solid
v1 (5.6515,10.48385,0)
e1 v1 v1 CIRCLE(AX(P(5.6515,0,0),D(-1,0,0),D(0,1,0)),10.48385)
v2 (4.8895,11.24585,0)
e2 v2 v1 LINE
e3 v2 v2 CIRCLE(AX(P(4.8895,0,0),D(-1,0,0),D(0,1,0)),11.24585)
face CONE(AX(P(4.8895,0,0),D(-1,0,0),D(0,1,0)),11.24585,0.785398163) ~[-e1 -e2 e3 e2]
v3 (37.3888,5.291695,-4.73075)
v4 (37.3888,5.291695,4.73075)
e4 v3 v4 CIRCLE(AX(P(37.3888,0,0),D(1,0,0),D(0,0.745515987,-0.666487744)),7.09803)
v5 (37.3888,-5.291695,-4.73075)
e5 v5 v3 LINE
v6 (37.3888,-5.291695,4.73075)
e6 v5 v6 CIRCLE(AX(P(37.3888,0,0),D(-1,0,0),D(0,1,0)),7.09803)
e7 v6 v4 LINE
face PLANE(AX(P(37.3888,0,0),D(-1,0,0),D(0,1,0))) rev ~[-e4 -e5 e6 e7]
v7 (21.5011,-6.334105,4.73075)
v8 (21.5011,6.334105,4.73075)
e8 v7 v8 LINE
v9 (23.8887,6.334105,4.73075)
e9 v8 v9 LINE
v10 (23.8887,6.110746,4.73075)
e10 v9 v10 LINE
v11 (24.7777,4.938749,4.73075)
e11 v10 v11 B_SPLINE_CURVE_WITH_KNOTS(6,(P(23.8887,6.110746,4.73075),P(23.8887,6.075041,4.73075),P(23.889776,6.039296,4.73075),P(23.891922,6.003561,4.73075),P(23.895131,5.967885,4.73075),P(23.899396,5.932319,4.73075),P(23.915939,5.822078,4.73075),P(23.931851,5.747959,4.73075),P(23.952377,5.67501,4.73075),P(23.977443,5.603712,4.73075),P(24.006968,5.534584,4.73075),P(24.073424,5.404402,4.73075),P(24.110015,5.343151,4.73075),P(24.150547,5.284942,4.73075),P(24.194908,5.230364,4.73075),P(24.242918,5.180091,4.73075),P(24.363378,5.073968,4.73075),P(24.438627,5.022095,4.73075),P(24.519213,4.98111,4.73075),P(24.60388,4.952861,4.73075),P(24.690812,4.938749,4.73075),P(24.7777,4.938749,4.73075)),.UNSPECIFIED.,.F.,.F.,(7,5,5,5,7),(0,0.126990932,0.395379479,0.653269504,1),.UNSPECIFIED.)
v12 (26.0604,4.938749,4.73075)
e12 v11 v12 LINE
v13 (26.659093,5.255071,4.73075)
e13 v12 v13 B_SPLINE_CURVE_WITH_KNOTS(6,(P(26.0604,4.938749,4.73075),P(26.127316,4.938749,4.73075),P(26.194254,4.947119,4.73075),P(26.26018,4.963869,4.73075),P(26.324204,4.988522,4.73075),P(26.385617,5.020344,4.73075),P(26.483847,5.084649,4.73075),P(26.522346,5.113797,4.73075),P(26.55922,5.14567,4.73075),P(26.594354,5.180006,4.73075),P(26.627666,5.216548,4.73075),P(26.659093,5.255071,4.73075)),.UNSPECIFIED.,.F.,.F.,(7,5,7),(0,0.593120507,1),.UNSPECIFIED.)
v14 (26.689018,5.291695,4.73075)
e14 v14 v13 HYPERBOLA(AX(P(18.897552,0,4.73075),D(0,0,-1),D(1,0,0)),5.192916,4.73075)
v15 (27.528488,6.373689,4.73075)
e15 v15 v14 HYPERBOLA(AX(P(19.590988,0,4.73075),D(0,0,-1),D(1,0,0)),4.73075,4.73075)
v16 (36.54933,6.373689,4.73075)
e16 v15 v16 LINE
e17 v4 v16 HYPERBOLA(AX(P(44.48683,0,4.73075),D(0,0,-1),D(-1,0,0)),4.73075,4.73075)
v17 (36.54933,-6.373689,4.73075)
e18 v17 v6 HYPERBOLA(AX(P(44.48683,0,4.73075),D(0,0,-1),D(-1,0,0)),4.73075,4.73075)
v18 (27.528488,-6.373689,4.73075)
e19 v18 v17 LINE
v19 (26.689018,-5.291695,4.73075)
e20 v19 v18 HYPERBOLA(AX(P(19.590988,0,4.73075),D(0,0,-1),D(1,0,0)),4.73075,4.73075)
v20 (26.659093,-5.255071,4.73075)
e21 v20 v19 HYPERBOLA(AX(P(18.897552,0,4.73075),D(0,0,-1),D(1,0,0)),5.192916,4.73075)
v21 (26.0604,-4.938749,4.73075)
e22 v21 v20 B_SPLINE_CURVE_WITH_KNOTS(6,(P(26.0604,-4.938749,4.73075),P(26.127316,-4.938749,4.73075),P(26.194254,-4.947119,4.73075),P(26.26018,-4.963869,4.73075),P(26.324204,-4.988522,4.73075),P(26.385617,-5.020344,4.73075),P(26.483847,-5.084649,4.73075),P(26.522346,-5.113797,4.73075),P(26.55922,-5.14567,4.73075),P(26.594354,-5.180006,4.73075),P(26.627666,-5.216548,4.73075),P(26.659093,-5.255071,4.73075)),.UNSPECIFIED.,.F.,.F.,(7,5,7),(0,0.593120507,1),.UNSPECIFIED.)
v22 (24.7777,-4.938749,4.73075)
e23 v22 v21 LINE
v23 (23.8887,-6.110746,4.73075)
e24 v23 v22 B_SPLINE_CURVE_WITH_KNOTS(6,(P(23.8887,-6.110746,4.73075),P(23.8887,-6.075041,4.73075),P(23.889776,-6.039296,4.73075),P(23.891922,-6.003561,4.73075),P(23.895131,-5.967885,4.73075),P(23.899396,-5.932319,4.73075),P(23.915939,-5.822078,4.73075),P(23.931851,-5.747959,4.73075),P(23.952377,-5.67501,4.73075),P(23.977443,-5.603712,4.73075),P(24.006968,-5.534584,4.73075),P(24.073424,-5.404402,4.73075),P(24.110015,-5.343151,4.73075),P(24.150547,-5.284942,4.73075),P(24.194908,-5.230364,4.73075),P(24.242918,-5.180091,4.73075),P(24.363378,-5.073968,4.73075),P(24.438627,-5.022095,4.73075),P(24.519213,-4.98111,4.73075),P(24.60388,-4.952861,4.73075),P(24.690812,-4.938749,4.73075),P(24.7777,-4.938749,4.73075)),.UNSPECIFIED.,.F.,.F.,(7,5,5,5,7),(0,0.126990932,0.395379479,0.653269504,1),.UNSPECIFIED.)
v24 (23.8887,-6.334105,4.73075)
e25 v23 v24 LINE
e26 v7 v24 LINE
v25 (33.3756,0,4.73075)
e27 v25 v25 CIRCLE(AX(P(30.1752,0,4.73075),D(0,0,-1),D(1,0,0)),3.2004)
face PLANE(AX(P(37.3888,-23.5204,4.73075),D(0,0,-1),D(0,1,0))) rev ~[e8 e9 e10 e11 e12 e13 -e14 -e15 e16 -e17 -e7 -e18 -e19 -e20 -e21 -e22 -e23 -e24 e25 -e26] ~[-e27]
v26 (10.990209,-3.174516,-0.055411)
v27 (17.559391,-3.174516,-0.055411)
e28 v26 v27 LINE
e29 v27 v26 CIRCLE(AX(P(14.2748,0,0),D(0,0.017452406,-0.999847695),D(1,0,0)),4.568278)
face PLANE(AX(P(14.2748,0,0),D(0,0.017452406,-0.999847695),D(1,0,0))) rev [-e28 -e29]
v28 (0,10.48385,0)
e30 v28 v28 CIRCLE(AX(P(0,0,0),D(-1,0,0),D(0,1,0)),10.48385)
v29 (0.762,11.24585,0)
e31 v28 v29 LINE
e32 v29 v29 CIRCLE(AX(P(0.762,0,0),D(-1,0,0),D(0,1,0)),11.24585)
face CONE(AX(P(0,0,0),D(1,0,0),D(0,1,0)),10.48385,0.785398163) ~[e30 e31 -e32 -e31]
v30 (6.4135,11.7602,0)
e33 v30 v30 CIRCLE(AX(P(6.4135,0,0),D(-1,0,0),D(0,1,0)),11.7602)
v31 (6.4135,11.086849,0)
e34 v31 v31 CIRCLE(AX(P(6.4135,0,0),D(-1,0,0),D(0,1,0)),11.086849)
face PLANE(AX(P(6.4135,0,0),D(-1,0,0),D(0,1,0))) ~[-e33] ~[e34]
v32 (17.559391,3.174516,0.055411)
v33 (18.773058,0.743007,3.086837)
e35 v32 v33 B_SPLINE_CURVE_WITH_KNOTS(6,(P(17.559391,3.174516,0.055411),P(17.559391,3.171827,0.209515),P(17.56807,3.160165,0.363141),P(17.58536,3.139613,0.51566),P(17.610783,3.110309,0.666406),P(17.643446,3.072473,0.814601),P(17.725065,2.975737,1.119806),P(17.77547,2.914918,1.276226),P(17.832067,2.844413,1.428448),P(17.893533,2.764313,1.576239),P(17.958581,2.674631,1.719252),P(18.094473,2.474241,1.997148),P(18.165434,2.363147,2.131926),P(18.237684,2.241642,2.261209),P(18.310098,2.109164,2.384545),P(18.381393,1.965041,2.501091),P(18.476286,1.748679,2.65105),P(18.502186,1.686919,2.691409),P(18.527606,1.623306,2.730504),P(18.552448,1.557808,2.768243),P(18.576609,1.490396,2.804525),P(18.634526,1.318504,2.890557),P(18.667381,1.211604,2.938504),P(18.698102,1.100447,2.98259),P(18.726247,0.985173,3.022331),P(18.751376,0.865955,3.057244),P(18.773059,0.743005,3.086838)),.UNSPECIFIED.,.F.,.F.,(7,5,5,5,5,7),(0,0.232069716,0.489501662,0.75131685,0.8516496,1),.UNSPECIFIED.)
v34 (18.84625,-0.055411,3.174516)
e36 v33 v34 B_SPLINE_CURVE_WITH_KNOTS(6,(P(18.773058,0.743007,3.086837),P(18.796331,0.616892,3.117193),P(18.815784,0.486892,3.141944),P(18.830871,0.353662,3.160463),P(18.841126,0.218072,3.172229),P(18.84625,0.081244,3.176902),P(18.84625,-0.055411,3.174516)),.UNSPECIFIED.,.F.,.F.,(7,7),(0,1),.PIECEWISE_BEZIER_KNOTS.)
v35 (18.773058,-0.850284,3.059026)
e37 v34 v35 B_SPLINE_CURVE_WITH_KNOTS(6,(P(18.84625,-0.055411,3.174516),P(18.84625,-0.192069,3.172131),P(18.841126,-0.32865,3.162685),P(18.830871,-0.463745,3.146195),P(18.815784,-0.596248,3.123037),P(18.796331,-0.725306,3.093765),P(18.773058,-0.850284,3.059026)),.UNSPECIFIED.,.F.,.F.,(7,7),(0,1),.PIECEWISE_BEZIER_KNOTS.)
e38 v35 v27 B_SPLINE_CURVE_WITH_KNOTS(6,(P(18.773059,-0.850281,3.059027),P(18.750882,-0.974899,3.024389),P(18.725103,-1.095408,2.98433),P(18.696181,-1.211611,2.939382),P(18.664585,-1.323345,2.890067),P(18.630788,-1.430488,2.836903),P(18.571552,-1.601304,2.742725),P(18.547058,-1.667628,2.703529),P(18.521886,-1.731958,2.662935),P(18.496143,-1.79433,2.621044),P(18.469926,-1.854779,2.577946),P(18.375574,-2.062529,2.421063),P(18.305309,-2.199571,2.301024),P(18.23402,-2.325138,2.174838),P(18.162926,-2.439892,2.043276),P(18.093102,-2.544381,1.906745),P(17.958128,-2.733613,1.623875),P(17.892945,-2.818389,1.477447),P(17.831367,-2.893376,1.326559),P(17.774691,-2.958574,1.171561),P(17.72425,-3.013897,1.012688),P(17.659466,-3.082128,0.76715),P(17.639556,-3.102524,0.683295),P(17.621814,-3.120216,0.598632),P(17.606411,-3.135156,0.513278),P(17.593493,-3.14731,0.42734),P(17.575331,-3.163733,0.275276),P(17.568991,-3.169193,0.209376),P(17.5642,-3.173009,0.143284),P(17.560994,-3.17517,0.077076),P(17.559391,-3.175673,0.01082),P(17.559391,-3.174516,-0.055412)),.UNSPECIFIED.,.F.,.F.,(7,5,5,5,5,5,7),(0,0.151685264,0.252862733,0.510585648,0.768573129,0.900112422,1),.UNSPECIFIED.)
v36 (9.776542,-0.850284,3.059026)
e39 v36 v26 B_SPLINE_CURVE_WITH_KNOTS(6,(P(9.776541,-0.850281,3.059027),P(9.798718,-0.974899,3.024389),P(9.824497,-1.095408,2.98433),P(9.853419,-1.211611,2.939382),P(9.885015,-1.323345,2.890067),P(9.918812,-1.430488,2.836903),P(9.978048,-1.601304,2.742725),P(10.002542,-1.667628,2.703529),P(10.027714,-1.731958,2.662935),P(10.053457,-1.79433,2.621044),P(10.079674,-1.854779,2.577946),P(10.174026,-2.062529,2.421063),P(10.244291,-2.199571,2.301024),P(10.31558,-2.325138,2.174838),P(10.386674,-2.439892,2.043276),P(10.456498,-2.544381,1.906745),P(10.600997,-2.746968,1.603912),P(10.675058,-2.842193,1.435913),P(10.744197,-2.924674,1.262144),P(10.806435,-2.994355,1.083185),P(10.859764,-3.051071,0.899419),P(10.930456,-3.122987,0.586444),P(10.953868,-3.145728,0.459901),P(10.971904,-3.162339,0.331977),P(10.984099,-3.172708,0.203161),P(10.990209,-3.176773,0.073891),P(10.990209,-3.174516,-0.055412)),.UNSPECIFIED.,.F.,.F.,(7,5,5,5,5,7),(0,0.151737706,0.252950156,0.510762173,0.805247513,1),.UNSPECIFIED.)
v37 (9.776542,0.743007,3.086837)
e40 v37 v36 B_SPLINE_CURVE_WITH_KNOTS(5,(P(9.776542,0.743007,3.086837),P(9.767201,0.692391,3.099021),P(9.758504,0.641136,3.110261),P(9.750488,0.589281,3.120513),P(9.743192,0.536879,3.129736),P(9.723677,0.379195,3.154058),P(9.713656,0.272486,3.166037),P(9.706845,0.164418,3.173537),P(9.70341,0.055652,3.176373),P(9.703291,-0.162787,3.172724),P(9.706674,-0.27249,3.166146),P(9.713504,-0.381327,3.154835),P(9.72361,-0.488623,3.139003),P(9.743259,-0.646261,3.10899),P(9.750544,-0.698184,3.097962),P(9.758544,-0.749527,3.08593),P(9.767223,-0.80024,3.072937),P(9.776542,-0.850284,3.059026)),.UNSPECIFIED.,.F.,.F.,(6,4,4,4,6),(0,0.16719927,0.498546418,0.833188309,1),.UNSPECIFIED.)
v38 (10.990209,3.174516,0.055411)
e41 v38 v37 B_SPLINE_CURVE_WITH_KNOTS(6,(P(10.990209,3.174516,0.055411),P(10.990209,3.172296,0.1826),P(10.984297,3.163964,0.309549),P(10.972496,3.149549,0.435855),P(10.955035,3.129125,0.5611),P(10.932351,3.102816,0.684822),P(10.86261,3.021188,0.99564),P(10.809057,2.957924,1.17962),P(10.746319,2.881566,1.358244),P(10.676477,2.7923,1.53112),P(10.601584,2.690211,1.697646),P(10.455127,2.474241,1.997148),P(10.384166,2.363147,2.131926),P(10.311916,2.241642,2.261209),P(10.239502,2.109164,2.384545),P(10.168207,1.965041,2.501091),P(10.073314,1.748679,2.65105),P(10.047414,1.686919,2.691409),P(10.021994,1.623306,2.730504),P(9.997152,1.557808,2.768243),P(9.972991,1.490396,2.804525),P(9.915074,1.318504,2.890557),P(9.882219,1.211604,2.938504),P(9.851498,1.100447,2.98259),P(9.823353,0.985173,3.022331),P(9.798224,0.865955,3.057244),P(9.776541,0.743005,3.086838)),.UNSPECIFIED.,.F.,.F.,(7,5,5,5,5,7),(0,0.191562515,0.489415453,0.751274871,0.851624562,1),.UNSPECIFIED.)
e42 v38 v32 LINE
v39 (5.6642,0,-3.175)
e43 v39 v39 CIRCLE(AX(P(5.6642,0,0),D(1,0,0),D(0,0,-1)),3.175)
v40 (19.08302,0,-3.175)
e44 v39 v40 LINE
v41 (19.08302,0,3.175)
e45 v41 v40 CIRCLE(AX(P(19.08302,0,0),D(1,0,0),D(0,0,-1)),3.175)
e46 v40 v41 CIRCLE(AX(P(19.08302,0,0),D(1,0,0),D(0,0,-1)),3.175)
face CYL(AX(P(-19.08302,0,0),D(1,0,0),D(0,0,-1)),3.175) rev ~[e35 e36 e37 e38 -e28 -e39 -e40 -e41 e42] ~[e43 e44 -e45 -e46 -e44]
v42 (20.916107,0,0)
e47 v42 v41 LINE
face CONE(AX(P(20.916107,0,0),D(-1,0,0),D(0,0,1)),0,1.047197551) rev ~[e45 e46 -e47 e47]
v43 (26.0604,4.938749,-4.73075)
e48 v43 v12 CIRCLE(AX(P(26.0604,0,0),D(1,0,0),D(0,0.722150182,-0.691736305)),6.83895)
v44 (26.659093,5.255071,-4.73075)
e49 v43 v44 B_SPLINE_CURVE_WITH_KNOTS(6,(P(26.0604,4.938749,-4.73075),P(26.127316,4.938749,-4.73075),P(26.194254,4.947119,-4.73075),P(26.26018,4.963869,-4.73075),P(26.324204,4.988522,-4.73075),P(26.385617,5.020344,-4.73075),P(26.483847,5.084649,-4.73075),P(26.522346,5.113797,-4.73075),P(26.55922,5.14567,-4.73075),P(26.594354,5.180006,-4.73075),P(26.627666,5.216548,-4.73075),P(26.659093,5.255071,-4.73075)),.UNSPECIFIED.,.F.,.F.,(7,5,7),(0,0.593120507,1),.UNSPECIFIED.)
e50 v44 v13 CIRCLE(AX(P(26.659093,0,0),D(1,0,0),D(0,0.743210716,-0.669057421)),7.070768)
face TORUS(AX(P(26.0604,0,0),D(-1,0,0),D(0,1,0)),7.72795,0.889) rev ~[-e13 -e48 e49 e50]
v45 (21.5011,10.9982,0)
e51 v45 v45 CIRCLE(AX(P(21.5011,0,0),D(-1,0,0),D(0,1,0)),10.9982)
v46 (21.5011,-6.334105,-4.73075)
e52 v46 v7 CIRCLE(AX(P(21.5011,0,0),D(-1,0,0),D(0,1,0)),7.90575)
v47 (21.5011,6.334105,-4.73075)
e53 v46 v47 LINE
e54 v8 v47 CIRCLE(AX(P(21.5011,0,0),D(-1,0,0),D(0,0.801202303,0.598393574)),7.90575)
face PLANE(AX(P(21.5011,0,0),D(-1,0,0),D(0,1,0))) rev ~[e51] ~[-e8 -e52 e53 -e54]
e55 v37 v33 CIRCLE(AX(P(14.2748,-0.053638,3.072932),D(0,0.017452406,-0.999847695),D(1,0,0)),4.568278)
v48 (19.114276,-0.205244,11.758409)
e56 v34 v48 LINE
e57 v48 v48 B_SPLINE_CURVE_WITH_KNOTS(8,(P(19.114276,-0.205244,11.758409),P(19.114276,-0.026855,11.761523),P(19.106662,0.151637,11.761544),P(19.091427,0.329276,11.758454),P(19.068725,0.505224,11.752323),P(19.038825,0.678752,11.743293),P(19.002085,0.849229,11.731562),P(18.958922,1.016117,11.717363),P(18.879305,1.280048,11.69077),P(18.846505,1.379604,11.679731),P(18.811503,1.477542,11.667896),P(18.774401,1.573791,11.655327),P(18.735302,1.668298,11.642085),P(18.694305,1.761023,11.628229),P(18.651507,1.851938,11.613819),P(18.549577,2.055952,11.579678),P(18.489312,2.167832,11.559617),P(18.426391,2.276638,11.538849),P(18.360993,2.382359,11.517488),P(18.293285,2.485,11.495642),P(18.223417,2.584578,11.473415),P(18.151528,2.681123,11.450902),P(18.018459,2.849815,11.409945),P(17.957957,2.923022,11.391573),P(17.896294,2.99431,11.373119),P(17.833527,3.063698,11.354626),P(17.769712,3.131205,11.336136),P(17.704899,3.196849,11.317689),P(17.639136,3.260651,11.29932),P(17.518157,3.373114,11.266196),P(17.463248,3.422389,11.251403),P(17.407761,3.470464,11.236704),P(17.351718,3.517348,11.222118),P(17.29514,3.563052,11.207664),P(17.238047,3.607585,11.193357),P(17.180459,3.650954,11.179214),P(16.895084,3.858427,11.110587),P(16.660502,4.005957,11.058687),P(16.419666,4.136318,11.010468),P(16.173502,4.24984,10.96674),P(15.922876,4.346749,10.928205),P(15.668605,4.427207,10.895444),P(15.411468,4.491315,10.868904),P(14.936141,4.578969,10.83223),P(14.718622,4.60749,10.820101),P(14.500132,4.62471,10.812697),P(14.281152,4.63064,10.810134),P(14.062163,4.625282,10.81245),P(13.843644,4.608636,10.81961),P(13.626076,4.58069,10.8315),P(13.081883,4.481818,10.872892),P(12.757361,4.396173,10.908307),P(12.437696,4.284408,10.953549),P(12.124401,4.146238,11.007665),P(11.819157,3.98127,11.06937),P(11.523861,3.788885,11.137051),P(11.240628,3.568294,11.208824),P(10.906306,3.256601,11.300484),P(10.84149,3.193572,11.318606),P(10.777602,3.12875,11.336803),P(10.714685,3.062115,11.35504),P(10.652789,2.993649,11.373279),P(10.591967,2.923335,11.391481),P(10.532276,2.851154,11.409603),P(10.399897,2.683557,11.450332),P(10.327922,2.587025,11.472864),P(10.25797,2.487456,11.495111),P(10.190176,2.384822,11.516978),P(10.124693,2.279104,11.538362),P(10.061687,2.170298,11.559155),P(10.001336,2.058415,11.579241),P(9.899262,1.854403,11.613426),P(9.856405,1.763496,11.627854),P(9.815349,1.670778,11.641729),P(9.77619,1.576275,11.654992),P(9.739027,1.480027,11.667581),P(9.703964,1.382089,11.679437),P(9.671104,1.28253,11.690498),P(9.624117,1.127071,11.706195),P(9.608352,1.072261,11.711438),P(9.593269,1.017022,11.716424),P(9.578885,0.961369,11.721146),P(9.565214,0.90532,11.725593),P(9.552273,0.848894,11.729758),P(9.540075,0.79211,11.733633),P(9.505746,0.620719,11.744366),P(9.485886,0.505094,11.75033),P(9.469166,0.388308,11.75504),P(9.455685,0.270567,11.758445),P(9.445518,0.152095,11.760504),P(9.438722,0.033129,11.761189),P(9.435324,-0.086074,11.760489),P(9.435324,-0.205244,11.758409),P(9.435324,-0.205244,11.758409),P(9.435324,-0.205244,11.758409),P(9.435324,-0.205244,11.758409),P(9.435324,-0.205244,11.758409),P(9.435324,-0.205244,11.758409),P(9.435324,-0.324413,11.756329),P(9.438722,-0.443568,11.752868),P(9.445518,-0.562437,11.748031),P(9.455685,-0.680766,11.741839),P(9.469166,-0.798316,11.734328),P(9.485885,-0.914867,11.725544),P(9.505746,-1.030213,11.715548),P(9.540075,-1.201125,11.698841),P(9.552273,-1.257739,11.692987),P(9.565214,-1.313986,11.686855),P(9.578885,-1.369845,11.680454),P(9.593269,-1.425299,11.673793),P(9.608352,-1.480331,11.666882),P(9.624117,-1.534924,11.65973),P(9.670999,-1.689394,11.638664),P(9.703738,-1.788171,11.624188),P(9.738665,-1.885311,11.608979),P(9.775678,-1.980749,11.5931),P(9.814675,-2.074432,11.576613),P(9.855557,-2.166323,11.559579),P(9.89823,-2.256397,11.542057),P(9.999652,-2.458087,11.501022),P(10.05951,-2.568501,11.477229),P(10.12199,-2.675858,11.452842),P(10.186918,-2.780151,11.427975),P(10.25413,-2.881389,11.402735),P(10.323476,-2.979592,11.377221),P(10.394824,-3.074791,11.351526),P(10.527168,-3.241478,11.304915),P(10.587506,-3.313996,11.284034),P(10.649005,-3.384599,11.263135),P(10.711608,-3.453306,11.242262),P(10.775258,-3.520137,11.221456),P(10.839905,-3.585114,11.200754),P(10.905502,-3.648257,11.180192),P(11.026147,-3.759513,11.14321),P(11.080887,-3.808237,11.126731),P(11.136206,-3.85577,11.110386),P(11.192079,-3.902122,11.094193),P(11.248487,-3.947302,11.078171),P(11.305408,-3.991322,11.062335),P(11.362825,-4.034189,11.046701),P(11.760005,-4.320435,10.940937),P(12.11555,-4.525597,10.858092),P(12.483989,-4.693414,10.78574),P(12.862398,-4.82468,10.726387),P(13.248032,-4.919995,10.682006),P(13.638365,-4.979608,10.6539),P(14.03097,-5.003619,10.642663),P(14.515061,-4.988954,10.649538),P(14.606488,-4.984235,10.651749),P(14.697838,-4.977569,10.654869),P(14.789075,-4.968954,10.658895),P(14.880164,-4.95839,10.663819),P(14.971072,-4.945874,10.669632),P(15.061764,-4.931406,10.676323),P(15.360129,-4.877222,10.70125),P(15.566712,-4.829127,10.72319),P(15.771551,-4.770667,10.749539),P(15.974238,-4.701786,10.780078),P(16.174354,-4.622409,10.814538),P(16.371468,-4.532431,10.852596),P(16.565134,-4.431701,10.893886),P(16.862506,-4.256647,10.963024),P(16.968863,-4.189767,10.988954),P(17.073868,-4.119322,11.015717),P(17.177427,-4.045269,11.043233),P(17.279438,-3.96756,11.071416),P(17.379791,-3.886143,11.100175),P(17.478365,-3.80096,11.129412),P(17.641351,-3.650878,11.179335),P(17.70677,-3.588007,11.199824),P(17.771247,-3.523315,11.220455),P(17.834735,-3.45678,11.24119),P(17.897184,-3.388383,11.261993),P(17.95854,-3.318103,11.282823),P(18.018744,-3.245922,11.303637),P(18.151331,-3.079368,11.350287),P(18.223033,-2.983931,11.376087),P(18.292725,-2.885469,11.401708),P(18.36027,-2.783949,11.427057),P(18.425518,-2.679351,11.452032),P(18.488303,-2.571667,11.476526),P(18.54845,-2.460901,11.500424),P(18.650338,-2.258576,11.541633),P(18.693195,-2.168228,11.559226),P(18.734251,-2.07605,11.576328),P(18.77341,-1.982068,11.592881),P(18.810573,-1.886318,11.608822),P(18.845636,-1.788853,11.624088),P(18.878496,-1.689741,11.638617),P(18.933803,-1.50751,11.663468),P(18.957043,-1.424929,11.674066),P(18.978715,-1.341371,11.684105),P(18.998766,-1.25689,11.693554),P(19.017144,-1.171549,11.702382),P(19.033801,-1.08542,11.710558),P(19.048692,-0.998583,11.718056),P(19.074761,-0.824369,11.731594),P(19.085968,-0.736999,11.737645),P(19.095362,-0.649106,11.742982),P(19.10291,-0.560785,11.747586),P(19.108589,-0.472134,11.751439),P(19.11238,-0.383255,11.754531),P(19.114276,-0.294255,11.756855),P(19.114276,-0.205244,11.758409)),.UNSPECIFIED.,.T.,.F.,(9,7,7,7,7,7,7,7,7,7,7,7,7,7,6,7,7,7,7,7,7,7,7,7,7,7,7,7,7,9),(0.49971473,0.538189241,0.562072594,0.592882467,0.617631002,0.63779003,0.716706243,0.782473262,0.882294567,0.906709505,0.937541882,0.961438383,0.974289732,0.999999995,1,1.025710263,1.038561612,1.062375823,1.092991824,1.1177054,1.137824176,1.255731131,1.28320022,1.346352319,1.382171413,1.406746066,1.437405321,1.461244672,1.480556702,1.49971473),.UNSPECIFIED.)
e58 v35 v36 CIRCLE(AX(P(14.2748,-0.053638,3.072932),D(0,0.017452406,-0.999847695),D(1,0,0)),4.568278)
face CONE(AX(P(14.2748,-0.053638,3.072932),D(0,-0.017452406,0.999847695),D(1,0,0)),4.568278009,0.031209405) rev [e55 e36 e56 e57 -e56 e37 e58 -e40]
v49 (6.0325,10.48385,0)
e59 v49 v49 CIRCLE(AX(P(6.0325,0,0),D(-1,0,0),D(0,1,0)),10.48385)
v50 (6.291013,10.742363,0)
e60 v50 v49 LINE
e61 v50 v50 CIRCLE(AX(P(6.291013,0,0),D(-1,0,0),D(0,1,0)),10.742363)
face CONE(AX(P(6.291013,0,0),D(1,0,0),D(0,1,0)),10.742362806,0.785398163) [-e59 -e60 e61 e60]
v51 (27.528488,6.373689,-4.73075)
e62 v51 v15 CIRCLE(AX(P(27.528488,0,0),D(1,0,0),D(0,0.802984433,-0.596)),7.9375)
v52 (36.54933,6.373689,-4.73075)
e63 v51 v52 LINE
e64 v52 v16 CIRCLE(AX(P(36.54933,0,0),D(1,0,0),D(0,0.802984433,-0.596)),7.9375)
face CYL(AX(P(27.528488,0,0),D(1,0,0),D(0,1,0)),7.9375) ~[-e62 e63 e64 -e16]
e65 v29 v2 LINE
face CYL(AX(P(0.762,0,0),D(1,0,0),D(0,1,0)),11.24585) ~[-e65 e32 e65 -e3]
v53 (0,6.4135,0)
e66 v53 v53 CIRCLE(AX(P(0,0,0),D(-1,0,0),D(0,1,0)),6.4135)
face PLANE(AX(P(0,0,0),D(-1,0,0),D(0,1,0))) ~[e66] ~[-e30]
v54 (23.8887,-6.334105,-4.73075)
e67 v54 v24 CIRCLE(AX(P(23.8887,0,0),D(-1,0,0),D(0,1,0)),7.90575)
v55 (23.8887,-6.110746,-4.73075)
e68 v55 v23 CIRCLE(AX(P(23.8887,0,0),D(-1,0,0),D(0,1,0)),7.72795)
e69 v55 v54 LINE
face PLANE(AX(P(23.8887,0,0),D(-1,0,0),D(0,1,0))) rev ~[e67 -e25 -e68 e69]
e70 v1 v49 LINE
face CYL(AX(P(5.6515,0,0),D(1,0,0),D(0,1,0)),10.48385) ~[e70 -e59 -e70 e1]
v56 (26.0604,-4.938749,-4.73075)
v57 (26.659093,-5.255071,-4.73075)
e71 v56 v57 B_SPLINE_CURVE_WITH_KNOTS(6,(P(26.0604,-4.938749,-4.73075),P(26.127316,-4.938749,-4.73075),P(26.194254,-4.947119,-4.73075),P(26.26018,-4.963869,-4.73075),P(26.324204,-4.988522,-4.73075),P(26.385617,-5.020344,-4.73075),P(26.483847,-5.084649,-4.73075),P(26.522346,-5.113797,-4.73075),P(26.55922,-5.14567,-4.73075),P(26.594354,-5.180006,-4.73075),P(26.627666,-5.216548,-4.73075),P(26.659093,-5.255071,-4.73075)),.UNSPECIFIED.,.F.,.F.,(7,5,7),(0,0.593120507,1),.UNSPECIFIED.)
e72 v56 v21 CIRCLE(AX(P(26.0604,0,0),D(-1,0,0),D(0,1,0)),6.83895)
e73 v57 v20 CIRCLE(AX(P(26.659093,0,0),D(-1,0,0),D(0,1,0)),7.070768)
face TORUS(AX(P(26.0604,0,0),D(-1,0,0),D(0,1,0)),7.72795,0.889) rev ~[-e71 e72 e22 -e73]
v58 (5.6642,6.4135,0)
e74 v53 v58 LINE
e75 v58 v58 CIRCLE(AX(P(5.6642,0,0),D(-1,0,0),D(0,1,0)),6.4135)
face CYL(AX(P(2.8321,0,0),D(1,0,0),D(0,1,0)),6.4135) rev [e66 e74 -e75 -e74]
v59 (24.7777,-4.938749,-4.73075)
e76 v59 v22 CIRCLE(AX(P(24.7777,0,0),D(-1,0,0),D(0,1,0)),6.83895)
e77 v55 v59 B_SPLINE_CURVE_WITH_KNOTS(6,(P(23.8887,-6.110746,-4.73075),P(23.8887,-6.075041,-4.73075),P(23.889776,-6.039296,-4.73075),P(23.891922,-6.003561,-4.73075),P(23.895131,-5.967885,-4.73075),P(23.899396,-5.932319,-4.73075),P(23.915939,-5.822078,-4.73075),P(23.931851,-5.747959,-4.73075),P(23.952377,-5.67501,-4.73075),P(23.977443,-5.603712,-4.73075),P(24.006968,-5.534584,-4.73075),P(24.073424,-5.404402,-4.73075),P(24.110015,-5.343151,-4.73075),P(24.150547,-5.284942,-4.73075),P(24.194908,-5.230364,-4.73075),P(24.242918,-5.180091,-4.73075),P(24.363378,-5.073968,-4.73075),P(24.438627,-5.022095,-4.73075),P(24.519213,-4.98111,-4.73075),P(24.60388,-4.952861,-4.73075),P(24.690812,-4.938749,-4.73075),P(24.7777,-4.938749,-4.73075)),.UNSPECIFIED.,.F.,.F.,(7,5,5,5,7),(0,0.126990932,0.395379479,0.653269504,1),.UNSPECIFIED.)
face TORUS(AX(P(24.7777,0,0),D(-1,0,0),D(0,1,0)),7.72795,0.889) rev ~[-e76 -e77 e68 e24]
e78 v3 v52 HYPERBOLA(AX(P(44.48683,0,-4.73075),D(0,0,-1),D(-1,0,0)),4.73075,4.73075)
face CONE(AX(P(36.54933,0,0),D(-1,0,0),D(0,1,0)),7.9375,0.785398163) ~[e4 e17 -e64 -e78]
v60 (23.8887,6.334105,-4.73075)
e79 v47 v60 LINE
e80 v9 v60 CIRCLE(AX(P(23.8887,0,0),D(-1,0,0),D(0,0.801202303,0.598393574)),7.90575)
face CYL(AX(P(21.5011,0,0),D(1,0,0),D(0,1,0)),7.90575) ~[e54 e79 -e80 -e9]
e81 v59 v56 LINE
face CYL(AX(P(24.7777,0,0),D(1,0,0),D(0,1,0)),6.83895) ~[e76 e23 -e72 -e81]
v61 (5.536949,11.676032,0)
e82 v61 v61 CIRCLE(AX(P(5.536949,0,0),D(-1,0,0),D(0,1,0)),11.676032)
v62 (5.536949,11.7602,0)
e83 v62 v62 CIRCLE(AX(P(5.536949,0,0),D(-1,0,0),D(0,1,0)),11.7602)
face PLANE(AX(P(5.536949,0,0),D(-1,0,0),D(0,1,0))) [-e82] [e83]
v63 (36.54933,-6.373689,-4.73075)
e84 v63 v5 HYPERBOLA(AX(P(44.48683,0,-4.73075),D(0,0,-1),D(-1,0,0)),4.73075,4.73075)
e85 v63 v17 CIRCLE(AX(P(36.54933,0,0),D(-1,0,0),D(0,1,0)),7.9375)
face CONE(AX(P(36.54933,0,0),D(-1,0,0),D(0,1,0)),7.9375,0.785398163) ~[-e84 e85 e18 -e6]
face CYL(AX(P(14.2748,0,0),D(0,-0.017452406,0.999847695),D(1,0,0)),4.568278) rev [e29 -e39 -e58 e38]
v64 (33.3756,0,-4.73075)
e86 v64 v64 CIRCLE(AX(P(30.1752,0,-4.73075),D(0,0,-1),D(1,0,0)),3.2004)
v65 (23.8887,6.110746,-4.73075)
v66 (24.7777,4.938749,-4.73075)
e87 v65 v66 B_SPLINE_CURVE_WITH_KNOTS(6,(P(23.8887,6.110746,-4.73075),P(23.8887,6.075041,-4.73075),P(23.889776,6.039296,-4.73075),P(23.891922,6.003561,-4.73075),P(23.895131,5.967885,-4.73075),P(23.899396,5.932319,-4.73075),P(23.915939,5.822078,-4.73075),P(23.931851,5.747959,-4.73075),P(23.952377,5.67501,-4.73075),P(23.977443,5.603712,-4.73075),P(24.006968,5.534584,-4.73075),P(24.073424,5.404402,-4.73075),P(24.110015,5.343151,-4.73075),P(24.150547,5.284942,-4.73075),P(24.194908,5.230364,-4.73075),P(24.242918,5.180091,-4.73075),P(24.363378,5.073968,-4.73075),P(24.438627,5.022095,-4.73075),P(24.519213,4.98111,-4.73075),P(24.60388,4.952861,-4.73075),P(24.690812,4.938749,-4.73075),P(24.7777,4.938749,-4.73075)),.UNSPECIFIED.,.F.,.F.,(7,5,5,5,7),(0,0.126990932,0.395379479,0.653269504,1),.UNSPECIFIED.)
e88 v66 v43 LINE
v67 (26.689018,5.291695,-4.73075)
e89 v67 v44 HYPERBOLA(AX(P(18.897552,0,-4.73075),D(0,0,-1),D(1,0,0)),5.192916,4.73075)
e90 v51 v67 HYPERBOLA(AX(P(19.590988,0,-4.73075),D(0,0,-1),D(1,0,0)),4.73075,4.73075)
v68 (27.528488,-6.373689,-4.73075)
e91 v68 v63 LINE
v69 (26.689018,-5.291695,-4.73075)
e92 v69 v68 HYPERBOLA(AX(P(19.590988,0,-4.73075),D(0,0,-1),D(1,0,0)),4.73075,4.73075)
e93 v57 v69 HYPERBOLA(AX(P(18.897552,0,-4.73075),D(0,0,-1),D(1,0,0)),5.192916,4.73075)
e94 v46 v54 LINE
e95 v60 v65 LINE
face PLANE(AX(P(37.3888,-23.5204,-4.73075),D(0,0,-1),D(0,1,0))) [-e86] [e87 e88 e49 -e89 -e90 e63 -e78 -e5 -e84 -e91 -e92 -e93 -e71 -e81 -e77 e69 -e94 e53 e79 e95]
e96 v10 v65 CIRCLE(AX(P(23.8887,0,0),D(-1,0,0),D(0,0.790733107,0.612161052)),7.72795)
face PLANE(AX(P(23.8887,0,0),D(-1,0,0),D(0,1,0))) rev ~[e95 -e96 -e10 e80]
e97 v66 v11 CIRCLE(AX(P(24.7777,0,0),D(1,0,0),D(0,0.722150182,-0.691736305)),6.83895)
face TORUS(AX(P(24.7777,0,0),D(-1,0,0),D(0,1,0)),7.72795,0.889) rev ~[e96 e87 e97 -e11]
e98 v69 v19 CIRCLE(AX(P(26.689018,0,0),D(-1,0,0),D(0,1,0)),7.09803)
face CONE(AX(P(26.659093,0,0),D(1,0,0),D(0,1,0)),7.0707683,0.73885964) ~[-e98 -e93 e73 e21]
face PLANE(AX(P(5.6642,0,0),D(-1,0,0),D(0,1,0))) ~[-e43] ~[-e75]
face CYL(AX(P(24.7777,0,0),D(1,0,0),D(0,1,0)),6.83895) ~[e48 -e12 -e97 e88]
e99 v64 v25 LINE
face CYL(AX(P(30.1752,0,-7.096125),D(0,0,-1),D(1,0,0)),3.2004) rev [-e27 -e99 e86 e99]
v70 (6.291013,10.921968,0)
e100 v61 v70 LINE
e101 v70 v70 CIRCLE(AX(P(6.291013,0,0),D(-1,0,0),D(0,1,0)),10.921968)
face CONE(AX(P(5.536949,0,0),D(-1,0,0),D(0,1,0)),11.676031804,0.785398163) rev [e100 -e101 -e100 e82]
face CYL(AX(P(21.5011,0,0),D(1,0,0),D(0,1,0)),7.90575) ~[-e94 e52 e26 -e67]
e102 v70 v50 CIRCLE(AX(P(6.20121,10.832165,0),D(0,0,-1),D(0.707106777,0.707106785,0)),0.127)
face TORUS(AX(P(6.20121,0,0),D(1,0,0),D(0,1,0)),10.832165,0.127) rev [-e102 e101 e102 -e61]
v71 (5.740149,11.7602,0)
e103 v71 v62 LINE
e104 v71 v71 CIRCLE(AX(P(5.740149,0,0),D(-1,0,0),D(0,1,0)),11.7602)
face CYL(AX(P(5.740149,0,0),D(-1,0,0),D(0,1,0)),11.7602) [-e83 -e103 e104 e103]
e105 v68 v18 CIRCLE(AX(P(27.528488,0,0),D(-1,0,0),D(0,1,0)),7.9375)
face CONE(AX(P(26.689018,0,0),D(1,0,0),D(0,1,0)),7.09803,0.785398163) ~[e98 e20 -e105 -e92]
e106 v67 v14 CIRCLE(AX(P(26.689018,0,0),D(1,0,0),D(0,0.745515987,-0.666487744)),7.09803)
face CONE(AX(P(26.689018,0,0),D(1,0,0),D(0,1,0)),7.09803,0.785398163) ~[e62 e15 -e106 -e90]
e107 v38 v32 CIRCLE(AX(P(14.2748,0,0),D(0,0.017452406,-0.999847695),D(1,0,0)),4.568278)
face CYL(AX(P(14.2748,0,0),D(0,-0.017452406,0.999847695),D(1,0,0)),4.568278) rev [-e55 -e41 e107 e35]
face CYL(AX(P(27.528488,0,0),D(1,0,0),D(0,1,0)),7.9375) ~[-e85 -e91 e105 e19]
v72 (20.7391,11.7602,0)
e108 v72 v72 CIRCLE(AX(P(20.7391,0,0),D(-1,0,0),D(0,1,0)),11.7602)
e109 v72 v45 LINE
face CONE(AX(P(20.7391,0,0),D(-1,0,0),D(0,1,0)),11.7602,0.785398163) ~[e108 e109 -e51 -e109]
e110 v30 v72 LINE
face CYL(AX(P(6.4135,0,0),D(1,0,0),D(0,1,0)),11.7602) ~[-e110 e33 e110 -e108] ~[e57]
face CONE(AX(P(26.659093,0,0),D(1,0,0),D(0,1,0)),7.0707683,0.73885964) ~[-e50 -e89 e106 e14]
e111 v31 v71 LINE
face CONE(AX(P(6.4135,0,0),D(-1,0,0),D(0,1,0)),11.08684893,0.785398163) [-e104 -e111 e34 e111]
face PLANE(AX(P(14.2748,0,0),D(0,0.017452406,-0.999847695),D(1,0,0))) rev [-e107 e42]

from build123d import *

# Parameters (mm, degrees)
SKETCH3_W               = 47.0408
SKETCH3_H               = 94.0816
SKETCH3_W_2             = 9.4615
SKETCH3_H_2             = 47.0408
CUT_EXTRUDE1_DEPTH      = 15.8877
HOLE1_D                 = 6.35
HOLE1_DEPTH             = 19.08302
HOLE1_TIP               = 1.833087105
SKETCH7_W               = 5.6642
SKETCH7_H               = 6.4135
CUT_EXTRUDE2_DEPTH      = 7.096125
CUT_EXTRUDE2_DEPTH_BACK = 7.096125
SKETCH9_R               = 3.2004


with BuildPart() as part:
    # Sketch1 → Revolve1 (revolve)
    with BuildSketch(Plane.XY):
        Polygon((0, 0), (0, 10.48385), (0.762, 11.24585), (4.8895, 11.24585), (5.6515, 10.48385), (6.4135, 10.48385), (6.4135, 11.7602), (20.7391, 11.7602), (21.5011, 10.9982), (21.5011, 0), align=None)
    revolve(axis=Axis((21.5011, 0, 0), (-1, 0, 0)))

    # Sketch2 → Revolve2 (revolve)
    with BuildSketch(Plane.XY):
        with BuildLine():
            Line((21.5011, 0), (21.5011, 7.90575))
            Line((21.5011, 7.90575), (23.8887, 7.90575))
            Line((23.8887, 7.90575), (23.8887, 7.72795))
            ThreePointArc((23.8887, 7.72795), (24.149082072, 7.099332072), (24.7777, 6.83895))
            Line((24.7777, 6.83895), (26.0604, 6.83895))
            ThreePointArc((26.0604, 6.83895), (26.38140348, 6.898927826), (26.65909292, 7.0707683))
            Line((26.65909292, 7.0707683), (26.689017928, 7.09803))
            Line((26.689017928, 7.09803), (27.528487928, 7.9375))
            Line((27.528487928, 7.9375), (36.54933, 7.9375))
            Line((36.54933, 7.9375), (37.3888, 7.09803))
            Line((37.3888, 7.09803), (37.3888, 0))
            Line((37.3888, 0), (21.5011, 0))
        make_face()
    revolve(axis=Axis((37.3888, 0, 0), (-1, 0, 0)))

    # Sketch3 → Cut-Extrude1 (cut)
    with BuildSketch(Plane(origin=(37.3888, 0, 0), x_dir=(0, 0, -1), z_dir=(1, 0, 0))):
        Rectangle(SKETCH3_W, SKETCH3_H)
        Rectangle(SKETCH3_W_2, SKETCH3_H_2, mode=Mode.SUBTRACT)
    extrude(amount=-CUT_EXTRUDE1_DEPTH, mode=Mode.SUBTRACT)

    # Hole1
    with Locations(Plane.ZY):
        with Locations((0, 0)):
            Hole(HOLE1_D / 2, depth=HOLE1_DEPTH)
            with Locations((0, 0, -(HOLE1_DEPTH + HOLE1_TIP / 2))):  # 120° drill point
                Cone(0, HOLE1_D / 2, HOLE1_TIP, mode=Mode.SUBTRACT)

    # Sketch6 → Cut-Revolve1 (revolve, cut)
    with BuildSketch(Plane(origin=(0, 0, 0), x_dir=(1, 0, 0), z_dir=(0, 0.9998476951563913, 0.01745240643728403))):
        Polygon((14.2748, 0), (18.843078009, 0), (18.843078009, -3.0734), (19.114275925, -11.7602), (14.2748, -11.7602), align=None)
    revolve(axis=Axis((14.2748, -0.20524379, 11.758408865), (0, 0.01745240643728403, -0.9998476951563913)), mode=Mode.SUBTRACT)

    # Sketch7 → Cut-Revolve2 (revolve, cut)
    with BuildSketch(Plane.XY):
        with Locations((2.8321, 3.20675)):
            Rectangle(SKETCH7_W, SKETCH7_H)
    revolve(axis=Axis((5.6642, 0, 0), (-1, 0, 0)), mode=Mode.SUBTRACT)

    # Sketch8 → Revolve3 (revolve)
    with BuildSketch(Plane.XY):
        with BuildLine():
            Line((5.53694893, 11.676031804), (6.291012806, 10.921967928))
            ThreePointArc((6.291012806, 10.921967928), (6.328210245, 10.832165367), (6.291012806, 10.742362806))
            Line((6.291012806, 10.742362806), (6.0325, 10.48385))
            Line((6.0325, 10.48385), (5.6515, 10.48385))
            Line((5.6515, 10.48385), (5.6515, 10.22985))
            Line((5.6515, 10.22985), (6.4135, 10.22985))
            Line((6.4135, 10.22985), (6.4135, 11.08684893))
            Line((6.4135, 11.08684893), (5.74014893, 11.7602))
            Line((5.74014893, 11.7602), (5.53694893, 11.7602))
            Line((5.53694893, 11.7602), (5.53694893, 11.676031804))
        make_face()
    revolve(axis=Axis((6.4135, 0, 0), (-1, 0, 0)))

    # Sketch9 → Cut-Extrude2 (cut, two sides: drawn at the far end of the back side and taken through both)
    with BuildSketch(Plane.XY.offset(-CUT_EXTRUDE2_DEPTH_BACK)):
        with Locations((30.1752, 0)):
            Circle(SKETCH9_R)
    extrude(amount=CUT_EXTRUDE2_DEPTH + CUT_EXTRUDE2_DEPTH_BACK, mode=Mode.SUBTRACT)


solid = part.part
